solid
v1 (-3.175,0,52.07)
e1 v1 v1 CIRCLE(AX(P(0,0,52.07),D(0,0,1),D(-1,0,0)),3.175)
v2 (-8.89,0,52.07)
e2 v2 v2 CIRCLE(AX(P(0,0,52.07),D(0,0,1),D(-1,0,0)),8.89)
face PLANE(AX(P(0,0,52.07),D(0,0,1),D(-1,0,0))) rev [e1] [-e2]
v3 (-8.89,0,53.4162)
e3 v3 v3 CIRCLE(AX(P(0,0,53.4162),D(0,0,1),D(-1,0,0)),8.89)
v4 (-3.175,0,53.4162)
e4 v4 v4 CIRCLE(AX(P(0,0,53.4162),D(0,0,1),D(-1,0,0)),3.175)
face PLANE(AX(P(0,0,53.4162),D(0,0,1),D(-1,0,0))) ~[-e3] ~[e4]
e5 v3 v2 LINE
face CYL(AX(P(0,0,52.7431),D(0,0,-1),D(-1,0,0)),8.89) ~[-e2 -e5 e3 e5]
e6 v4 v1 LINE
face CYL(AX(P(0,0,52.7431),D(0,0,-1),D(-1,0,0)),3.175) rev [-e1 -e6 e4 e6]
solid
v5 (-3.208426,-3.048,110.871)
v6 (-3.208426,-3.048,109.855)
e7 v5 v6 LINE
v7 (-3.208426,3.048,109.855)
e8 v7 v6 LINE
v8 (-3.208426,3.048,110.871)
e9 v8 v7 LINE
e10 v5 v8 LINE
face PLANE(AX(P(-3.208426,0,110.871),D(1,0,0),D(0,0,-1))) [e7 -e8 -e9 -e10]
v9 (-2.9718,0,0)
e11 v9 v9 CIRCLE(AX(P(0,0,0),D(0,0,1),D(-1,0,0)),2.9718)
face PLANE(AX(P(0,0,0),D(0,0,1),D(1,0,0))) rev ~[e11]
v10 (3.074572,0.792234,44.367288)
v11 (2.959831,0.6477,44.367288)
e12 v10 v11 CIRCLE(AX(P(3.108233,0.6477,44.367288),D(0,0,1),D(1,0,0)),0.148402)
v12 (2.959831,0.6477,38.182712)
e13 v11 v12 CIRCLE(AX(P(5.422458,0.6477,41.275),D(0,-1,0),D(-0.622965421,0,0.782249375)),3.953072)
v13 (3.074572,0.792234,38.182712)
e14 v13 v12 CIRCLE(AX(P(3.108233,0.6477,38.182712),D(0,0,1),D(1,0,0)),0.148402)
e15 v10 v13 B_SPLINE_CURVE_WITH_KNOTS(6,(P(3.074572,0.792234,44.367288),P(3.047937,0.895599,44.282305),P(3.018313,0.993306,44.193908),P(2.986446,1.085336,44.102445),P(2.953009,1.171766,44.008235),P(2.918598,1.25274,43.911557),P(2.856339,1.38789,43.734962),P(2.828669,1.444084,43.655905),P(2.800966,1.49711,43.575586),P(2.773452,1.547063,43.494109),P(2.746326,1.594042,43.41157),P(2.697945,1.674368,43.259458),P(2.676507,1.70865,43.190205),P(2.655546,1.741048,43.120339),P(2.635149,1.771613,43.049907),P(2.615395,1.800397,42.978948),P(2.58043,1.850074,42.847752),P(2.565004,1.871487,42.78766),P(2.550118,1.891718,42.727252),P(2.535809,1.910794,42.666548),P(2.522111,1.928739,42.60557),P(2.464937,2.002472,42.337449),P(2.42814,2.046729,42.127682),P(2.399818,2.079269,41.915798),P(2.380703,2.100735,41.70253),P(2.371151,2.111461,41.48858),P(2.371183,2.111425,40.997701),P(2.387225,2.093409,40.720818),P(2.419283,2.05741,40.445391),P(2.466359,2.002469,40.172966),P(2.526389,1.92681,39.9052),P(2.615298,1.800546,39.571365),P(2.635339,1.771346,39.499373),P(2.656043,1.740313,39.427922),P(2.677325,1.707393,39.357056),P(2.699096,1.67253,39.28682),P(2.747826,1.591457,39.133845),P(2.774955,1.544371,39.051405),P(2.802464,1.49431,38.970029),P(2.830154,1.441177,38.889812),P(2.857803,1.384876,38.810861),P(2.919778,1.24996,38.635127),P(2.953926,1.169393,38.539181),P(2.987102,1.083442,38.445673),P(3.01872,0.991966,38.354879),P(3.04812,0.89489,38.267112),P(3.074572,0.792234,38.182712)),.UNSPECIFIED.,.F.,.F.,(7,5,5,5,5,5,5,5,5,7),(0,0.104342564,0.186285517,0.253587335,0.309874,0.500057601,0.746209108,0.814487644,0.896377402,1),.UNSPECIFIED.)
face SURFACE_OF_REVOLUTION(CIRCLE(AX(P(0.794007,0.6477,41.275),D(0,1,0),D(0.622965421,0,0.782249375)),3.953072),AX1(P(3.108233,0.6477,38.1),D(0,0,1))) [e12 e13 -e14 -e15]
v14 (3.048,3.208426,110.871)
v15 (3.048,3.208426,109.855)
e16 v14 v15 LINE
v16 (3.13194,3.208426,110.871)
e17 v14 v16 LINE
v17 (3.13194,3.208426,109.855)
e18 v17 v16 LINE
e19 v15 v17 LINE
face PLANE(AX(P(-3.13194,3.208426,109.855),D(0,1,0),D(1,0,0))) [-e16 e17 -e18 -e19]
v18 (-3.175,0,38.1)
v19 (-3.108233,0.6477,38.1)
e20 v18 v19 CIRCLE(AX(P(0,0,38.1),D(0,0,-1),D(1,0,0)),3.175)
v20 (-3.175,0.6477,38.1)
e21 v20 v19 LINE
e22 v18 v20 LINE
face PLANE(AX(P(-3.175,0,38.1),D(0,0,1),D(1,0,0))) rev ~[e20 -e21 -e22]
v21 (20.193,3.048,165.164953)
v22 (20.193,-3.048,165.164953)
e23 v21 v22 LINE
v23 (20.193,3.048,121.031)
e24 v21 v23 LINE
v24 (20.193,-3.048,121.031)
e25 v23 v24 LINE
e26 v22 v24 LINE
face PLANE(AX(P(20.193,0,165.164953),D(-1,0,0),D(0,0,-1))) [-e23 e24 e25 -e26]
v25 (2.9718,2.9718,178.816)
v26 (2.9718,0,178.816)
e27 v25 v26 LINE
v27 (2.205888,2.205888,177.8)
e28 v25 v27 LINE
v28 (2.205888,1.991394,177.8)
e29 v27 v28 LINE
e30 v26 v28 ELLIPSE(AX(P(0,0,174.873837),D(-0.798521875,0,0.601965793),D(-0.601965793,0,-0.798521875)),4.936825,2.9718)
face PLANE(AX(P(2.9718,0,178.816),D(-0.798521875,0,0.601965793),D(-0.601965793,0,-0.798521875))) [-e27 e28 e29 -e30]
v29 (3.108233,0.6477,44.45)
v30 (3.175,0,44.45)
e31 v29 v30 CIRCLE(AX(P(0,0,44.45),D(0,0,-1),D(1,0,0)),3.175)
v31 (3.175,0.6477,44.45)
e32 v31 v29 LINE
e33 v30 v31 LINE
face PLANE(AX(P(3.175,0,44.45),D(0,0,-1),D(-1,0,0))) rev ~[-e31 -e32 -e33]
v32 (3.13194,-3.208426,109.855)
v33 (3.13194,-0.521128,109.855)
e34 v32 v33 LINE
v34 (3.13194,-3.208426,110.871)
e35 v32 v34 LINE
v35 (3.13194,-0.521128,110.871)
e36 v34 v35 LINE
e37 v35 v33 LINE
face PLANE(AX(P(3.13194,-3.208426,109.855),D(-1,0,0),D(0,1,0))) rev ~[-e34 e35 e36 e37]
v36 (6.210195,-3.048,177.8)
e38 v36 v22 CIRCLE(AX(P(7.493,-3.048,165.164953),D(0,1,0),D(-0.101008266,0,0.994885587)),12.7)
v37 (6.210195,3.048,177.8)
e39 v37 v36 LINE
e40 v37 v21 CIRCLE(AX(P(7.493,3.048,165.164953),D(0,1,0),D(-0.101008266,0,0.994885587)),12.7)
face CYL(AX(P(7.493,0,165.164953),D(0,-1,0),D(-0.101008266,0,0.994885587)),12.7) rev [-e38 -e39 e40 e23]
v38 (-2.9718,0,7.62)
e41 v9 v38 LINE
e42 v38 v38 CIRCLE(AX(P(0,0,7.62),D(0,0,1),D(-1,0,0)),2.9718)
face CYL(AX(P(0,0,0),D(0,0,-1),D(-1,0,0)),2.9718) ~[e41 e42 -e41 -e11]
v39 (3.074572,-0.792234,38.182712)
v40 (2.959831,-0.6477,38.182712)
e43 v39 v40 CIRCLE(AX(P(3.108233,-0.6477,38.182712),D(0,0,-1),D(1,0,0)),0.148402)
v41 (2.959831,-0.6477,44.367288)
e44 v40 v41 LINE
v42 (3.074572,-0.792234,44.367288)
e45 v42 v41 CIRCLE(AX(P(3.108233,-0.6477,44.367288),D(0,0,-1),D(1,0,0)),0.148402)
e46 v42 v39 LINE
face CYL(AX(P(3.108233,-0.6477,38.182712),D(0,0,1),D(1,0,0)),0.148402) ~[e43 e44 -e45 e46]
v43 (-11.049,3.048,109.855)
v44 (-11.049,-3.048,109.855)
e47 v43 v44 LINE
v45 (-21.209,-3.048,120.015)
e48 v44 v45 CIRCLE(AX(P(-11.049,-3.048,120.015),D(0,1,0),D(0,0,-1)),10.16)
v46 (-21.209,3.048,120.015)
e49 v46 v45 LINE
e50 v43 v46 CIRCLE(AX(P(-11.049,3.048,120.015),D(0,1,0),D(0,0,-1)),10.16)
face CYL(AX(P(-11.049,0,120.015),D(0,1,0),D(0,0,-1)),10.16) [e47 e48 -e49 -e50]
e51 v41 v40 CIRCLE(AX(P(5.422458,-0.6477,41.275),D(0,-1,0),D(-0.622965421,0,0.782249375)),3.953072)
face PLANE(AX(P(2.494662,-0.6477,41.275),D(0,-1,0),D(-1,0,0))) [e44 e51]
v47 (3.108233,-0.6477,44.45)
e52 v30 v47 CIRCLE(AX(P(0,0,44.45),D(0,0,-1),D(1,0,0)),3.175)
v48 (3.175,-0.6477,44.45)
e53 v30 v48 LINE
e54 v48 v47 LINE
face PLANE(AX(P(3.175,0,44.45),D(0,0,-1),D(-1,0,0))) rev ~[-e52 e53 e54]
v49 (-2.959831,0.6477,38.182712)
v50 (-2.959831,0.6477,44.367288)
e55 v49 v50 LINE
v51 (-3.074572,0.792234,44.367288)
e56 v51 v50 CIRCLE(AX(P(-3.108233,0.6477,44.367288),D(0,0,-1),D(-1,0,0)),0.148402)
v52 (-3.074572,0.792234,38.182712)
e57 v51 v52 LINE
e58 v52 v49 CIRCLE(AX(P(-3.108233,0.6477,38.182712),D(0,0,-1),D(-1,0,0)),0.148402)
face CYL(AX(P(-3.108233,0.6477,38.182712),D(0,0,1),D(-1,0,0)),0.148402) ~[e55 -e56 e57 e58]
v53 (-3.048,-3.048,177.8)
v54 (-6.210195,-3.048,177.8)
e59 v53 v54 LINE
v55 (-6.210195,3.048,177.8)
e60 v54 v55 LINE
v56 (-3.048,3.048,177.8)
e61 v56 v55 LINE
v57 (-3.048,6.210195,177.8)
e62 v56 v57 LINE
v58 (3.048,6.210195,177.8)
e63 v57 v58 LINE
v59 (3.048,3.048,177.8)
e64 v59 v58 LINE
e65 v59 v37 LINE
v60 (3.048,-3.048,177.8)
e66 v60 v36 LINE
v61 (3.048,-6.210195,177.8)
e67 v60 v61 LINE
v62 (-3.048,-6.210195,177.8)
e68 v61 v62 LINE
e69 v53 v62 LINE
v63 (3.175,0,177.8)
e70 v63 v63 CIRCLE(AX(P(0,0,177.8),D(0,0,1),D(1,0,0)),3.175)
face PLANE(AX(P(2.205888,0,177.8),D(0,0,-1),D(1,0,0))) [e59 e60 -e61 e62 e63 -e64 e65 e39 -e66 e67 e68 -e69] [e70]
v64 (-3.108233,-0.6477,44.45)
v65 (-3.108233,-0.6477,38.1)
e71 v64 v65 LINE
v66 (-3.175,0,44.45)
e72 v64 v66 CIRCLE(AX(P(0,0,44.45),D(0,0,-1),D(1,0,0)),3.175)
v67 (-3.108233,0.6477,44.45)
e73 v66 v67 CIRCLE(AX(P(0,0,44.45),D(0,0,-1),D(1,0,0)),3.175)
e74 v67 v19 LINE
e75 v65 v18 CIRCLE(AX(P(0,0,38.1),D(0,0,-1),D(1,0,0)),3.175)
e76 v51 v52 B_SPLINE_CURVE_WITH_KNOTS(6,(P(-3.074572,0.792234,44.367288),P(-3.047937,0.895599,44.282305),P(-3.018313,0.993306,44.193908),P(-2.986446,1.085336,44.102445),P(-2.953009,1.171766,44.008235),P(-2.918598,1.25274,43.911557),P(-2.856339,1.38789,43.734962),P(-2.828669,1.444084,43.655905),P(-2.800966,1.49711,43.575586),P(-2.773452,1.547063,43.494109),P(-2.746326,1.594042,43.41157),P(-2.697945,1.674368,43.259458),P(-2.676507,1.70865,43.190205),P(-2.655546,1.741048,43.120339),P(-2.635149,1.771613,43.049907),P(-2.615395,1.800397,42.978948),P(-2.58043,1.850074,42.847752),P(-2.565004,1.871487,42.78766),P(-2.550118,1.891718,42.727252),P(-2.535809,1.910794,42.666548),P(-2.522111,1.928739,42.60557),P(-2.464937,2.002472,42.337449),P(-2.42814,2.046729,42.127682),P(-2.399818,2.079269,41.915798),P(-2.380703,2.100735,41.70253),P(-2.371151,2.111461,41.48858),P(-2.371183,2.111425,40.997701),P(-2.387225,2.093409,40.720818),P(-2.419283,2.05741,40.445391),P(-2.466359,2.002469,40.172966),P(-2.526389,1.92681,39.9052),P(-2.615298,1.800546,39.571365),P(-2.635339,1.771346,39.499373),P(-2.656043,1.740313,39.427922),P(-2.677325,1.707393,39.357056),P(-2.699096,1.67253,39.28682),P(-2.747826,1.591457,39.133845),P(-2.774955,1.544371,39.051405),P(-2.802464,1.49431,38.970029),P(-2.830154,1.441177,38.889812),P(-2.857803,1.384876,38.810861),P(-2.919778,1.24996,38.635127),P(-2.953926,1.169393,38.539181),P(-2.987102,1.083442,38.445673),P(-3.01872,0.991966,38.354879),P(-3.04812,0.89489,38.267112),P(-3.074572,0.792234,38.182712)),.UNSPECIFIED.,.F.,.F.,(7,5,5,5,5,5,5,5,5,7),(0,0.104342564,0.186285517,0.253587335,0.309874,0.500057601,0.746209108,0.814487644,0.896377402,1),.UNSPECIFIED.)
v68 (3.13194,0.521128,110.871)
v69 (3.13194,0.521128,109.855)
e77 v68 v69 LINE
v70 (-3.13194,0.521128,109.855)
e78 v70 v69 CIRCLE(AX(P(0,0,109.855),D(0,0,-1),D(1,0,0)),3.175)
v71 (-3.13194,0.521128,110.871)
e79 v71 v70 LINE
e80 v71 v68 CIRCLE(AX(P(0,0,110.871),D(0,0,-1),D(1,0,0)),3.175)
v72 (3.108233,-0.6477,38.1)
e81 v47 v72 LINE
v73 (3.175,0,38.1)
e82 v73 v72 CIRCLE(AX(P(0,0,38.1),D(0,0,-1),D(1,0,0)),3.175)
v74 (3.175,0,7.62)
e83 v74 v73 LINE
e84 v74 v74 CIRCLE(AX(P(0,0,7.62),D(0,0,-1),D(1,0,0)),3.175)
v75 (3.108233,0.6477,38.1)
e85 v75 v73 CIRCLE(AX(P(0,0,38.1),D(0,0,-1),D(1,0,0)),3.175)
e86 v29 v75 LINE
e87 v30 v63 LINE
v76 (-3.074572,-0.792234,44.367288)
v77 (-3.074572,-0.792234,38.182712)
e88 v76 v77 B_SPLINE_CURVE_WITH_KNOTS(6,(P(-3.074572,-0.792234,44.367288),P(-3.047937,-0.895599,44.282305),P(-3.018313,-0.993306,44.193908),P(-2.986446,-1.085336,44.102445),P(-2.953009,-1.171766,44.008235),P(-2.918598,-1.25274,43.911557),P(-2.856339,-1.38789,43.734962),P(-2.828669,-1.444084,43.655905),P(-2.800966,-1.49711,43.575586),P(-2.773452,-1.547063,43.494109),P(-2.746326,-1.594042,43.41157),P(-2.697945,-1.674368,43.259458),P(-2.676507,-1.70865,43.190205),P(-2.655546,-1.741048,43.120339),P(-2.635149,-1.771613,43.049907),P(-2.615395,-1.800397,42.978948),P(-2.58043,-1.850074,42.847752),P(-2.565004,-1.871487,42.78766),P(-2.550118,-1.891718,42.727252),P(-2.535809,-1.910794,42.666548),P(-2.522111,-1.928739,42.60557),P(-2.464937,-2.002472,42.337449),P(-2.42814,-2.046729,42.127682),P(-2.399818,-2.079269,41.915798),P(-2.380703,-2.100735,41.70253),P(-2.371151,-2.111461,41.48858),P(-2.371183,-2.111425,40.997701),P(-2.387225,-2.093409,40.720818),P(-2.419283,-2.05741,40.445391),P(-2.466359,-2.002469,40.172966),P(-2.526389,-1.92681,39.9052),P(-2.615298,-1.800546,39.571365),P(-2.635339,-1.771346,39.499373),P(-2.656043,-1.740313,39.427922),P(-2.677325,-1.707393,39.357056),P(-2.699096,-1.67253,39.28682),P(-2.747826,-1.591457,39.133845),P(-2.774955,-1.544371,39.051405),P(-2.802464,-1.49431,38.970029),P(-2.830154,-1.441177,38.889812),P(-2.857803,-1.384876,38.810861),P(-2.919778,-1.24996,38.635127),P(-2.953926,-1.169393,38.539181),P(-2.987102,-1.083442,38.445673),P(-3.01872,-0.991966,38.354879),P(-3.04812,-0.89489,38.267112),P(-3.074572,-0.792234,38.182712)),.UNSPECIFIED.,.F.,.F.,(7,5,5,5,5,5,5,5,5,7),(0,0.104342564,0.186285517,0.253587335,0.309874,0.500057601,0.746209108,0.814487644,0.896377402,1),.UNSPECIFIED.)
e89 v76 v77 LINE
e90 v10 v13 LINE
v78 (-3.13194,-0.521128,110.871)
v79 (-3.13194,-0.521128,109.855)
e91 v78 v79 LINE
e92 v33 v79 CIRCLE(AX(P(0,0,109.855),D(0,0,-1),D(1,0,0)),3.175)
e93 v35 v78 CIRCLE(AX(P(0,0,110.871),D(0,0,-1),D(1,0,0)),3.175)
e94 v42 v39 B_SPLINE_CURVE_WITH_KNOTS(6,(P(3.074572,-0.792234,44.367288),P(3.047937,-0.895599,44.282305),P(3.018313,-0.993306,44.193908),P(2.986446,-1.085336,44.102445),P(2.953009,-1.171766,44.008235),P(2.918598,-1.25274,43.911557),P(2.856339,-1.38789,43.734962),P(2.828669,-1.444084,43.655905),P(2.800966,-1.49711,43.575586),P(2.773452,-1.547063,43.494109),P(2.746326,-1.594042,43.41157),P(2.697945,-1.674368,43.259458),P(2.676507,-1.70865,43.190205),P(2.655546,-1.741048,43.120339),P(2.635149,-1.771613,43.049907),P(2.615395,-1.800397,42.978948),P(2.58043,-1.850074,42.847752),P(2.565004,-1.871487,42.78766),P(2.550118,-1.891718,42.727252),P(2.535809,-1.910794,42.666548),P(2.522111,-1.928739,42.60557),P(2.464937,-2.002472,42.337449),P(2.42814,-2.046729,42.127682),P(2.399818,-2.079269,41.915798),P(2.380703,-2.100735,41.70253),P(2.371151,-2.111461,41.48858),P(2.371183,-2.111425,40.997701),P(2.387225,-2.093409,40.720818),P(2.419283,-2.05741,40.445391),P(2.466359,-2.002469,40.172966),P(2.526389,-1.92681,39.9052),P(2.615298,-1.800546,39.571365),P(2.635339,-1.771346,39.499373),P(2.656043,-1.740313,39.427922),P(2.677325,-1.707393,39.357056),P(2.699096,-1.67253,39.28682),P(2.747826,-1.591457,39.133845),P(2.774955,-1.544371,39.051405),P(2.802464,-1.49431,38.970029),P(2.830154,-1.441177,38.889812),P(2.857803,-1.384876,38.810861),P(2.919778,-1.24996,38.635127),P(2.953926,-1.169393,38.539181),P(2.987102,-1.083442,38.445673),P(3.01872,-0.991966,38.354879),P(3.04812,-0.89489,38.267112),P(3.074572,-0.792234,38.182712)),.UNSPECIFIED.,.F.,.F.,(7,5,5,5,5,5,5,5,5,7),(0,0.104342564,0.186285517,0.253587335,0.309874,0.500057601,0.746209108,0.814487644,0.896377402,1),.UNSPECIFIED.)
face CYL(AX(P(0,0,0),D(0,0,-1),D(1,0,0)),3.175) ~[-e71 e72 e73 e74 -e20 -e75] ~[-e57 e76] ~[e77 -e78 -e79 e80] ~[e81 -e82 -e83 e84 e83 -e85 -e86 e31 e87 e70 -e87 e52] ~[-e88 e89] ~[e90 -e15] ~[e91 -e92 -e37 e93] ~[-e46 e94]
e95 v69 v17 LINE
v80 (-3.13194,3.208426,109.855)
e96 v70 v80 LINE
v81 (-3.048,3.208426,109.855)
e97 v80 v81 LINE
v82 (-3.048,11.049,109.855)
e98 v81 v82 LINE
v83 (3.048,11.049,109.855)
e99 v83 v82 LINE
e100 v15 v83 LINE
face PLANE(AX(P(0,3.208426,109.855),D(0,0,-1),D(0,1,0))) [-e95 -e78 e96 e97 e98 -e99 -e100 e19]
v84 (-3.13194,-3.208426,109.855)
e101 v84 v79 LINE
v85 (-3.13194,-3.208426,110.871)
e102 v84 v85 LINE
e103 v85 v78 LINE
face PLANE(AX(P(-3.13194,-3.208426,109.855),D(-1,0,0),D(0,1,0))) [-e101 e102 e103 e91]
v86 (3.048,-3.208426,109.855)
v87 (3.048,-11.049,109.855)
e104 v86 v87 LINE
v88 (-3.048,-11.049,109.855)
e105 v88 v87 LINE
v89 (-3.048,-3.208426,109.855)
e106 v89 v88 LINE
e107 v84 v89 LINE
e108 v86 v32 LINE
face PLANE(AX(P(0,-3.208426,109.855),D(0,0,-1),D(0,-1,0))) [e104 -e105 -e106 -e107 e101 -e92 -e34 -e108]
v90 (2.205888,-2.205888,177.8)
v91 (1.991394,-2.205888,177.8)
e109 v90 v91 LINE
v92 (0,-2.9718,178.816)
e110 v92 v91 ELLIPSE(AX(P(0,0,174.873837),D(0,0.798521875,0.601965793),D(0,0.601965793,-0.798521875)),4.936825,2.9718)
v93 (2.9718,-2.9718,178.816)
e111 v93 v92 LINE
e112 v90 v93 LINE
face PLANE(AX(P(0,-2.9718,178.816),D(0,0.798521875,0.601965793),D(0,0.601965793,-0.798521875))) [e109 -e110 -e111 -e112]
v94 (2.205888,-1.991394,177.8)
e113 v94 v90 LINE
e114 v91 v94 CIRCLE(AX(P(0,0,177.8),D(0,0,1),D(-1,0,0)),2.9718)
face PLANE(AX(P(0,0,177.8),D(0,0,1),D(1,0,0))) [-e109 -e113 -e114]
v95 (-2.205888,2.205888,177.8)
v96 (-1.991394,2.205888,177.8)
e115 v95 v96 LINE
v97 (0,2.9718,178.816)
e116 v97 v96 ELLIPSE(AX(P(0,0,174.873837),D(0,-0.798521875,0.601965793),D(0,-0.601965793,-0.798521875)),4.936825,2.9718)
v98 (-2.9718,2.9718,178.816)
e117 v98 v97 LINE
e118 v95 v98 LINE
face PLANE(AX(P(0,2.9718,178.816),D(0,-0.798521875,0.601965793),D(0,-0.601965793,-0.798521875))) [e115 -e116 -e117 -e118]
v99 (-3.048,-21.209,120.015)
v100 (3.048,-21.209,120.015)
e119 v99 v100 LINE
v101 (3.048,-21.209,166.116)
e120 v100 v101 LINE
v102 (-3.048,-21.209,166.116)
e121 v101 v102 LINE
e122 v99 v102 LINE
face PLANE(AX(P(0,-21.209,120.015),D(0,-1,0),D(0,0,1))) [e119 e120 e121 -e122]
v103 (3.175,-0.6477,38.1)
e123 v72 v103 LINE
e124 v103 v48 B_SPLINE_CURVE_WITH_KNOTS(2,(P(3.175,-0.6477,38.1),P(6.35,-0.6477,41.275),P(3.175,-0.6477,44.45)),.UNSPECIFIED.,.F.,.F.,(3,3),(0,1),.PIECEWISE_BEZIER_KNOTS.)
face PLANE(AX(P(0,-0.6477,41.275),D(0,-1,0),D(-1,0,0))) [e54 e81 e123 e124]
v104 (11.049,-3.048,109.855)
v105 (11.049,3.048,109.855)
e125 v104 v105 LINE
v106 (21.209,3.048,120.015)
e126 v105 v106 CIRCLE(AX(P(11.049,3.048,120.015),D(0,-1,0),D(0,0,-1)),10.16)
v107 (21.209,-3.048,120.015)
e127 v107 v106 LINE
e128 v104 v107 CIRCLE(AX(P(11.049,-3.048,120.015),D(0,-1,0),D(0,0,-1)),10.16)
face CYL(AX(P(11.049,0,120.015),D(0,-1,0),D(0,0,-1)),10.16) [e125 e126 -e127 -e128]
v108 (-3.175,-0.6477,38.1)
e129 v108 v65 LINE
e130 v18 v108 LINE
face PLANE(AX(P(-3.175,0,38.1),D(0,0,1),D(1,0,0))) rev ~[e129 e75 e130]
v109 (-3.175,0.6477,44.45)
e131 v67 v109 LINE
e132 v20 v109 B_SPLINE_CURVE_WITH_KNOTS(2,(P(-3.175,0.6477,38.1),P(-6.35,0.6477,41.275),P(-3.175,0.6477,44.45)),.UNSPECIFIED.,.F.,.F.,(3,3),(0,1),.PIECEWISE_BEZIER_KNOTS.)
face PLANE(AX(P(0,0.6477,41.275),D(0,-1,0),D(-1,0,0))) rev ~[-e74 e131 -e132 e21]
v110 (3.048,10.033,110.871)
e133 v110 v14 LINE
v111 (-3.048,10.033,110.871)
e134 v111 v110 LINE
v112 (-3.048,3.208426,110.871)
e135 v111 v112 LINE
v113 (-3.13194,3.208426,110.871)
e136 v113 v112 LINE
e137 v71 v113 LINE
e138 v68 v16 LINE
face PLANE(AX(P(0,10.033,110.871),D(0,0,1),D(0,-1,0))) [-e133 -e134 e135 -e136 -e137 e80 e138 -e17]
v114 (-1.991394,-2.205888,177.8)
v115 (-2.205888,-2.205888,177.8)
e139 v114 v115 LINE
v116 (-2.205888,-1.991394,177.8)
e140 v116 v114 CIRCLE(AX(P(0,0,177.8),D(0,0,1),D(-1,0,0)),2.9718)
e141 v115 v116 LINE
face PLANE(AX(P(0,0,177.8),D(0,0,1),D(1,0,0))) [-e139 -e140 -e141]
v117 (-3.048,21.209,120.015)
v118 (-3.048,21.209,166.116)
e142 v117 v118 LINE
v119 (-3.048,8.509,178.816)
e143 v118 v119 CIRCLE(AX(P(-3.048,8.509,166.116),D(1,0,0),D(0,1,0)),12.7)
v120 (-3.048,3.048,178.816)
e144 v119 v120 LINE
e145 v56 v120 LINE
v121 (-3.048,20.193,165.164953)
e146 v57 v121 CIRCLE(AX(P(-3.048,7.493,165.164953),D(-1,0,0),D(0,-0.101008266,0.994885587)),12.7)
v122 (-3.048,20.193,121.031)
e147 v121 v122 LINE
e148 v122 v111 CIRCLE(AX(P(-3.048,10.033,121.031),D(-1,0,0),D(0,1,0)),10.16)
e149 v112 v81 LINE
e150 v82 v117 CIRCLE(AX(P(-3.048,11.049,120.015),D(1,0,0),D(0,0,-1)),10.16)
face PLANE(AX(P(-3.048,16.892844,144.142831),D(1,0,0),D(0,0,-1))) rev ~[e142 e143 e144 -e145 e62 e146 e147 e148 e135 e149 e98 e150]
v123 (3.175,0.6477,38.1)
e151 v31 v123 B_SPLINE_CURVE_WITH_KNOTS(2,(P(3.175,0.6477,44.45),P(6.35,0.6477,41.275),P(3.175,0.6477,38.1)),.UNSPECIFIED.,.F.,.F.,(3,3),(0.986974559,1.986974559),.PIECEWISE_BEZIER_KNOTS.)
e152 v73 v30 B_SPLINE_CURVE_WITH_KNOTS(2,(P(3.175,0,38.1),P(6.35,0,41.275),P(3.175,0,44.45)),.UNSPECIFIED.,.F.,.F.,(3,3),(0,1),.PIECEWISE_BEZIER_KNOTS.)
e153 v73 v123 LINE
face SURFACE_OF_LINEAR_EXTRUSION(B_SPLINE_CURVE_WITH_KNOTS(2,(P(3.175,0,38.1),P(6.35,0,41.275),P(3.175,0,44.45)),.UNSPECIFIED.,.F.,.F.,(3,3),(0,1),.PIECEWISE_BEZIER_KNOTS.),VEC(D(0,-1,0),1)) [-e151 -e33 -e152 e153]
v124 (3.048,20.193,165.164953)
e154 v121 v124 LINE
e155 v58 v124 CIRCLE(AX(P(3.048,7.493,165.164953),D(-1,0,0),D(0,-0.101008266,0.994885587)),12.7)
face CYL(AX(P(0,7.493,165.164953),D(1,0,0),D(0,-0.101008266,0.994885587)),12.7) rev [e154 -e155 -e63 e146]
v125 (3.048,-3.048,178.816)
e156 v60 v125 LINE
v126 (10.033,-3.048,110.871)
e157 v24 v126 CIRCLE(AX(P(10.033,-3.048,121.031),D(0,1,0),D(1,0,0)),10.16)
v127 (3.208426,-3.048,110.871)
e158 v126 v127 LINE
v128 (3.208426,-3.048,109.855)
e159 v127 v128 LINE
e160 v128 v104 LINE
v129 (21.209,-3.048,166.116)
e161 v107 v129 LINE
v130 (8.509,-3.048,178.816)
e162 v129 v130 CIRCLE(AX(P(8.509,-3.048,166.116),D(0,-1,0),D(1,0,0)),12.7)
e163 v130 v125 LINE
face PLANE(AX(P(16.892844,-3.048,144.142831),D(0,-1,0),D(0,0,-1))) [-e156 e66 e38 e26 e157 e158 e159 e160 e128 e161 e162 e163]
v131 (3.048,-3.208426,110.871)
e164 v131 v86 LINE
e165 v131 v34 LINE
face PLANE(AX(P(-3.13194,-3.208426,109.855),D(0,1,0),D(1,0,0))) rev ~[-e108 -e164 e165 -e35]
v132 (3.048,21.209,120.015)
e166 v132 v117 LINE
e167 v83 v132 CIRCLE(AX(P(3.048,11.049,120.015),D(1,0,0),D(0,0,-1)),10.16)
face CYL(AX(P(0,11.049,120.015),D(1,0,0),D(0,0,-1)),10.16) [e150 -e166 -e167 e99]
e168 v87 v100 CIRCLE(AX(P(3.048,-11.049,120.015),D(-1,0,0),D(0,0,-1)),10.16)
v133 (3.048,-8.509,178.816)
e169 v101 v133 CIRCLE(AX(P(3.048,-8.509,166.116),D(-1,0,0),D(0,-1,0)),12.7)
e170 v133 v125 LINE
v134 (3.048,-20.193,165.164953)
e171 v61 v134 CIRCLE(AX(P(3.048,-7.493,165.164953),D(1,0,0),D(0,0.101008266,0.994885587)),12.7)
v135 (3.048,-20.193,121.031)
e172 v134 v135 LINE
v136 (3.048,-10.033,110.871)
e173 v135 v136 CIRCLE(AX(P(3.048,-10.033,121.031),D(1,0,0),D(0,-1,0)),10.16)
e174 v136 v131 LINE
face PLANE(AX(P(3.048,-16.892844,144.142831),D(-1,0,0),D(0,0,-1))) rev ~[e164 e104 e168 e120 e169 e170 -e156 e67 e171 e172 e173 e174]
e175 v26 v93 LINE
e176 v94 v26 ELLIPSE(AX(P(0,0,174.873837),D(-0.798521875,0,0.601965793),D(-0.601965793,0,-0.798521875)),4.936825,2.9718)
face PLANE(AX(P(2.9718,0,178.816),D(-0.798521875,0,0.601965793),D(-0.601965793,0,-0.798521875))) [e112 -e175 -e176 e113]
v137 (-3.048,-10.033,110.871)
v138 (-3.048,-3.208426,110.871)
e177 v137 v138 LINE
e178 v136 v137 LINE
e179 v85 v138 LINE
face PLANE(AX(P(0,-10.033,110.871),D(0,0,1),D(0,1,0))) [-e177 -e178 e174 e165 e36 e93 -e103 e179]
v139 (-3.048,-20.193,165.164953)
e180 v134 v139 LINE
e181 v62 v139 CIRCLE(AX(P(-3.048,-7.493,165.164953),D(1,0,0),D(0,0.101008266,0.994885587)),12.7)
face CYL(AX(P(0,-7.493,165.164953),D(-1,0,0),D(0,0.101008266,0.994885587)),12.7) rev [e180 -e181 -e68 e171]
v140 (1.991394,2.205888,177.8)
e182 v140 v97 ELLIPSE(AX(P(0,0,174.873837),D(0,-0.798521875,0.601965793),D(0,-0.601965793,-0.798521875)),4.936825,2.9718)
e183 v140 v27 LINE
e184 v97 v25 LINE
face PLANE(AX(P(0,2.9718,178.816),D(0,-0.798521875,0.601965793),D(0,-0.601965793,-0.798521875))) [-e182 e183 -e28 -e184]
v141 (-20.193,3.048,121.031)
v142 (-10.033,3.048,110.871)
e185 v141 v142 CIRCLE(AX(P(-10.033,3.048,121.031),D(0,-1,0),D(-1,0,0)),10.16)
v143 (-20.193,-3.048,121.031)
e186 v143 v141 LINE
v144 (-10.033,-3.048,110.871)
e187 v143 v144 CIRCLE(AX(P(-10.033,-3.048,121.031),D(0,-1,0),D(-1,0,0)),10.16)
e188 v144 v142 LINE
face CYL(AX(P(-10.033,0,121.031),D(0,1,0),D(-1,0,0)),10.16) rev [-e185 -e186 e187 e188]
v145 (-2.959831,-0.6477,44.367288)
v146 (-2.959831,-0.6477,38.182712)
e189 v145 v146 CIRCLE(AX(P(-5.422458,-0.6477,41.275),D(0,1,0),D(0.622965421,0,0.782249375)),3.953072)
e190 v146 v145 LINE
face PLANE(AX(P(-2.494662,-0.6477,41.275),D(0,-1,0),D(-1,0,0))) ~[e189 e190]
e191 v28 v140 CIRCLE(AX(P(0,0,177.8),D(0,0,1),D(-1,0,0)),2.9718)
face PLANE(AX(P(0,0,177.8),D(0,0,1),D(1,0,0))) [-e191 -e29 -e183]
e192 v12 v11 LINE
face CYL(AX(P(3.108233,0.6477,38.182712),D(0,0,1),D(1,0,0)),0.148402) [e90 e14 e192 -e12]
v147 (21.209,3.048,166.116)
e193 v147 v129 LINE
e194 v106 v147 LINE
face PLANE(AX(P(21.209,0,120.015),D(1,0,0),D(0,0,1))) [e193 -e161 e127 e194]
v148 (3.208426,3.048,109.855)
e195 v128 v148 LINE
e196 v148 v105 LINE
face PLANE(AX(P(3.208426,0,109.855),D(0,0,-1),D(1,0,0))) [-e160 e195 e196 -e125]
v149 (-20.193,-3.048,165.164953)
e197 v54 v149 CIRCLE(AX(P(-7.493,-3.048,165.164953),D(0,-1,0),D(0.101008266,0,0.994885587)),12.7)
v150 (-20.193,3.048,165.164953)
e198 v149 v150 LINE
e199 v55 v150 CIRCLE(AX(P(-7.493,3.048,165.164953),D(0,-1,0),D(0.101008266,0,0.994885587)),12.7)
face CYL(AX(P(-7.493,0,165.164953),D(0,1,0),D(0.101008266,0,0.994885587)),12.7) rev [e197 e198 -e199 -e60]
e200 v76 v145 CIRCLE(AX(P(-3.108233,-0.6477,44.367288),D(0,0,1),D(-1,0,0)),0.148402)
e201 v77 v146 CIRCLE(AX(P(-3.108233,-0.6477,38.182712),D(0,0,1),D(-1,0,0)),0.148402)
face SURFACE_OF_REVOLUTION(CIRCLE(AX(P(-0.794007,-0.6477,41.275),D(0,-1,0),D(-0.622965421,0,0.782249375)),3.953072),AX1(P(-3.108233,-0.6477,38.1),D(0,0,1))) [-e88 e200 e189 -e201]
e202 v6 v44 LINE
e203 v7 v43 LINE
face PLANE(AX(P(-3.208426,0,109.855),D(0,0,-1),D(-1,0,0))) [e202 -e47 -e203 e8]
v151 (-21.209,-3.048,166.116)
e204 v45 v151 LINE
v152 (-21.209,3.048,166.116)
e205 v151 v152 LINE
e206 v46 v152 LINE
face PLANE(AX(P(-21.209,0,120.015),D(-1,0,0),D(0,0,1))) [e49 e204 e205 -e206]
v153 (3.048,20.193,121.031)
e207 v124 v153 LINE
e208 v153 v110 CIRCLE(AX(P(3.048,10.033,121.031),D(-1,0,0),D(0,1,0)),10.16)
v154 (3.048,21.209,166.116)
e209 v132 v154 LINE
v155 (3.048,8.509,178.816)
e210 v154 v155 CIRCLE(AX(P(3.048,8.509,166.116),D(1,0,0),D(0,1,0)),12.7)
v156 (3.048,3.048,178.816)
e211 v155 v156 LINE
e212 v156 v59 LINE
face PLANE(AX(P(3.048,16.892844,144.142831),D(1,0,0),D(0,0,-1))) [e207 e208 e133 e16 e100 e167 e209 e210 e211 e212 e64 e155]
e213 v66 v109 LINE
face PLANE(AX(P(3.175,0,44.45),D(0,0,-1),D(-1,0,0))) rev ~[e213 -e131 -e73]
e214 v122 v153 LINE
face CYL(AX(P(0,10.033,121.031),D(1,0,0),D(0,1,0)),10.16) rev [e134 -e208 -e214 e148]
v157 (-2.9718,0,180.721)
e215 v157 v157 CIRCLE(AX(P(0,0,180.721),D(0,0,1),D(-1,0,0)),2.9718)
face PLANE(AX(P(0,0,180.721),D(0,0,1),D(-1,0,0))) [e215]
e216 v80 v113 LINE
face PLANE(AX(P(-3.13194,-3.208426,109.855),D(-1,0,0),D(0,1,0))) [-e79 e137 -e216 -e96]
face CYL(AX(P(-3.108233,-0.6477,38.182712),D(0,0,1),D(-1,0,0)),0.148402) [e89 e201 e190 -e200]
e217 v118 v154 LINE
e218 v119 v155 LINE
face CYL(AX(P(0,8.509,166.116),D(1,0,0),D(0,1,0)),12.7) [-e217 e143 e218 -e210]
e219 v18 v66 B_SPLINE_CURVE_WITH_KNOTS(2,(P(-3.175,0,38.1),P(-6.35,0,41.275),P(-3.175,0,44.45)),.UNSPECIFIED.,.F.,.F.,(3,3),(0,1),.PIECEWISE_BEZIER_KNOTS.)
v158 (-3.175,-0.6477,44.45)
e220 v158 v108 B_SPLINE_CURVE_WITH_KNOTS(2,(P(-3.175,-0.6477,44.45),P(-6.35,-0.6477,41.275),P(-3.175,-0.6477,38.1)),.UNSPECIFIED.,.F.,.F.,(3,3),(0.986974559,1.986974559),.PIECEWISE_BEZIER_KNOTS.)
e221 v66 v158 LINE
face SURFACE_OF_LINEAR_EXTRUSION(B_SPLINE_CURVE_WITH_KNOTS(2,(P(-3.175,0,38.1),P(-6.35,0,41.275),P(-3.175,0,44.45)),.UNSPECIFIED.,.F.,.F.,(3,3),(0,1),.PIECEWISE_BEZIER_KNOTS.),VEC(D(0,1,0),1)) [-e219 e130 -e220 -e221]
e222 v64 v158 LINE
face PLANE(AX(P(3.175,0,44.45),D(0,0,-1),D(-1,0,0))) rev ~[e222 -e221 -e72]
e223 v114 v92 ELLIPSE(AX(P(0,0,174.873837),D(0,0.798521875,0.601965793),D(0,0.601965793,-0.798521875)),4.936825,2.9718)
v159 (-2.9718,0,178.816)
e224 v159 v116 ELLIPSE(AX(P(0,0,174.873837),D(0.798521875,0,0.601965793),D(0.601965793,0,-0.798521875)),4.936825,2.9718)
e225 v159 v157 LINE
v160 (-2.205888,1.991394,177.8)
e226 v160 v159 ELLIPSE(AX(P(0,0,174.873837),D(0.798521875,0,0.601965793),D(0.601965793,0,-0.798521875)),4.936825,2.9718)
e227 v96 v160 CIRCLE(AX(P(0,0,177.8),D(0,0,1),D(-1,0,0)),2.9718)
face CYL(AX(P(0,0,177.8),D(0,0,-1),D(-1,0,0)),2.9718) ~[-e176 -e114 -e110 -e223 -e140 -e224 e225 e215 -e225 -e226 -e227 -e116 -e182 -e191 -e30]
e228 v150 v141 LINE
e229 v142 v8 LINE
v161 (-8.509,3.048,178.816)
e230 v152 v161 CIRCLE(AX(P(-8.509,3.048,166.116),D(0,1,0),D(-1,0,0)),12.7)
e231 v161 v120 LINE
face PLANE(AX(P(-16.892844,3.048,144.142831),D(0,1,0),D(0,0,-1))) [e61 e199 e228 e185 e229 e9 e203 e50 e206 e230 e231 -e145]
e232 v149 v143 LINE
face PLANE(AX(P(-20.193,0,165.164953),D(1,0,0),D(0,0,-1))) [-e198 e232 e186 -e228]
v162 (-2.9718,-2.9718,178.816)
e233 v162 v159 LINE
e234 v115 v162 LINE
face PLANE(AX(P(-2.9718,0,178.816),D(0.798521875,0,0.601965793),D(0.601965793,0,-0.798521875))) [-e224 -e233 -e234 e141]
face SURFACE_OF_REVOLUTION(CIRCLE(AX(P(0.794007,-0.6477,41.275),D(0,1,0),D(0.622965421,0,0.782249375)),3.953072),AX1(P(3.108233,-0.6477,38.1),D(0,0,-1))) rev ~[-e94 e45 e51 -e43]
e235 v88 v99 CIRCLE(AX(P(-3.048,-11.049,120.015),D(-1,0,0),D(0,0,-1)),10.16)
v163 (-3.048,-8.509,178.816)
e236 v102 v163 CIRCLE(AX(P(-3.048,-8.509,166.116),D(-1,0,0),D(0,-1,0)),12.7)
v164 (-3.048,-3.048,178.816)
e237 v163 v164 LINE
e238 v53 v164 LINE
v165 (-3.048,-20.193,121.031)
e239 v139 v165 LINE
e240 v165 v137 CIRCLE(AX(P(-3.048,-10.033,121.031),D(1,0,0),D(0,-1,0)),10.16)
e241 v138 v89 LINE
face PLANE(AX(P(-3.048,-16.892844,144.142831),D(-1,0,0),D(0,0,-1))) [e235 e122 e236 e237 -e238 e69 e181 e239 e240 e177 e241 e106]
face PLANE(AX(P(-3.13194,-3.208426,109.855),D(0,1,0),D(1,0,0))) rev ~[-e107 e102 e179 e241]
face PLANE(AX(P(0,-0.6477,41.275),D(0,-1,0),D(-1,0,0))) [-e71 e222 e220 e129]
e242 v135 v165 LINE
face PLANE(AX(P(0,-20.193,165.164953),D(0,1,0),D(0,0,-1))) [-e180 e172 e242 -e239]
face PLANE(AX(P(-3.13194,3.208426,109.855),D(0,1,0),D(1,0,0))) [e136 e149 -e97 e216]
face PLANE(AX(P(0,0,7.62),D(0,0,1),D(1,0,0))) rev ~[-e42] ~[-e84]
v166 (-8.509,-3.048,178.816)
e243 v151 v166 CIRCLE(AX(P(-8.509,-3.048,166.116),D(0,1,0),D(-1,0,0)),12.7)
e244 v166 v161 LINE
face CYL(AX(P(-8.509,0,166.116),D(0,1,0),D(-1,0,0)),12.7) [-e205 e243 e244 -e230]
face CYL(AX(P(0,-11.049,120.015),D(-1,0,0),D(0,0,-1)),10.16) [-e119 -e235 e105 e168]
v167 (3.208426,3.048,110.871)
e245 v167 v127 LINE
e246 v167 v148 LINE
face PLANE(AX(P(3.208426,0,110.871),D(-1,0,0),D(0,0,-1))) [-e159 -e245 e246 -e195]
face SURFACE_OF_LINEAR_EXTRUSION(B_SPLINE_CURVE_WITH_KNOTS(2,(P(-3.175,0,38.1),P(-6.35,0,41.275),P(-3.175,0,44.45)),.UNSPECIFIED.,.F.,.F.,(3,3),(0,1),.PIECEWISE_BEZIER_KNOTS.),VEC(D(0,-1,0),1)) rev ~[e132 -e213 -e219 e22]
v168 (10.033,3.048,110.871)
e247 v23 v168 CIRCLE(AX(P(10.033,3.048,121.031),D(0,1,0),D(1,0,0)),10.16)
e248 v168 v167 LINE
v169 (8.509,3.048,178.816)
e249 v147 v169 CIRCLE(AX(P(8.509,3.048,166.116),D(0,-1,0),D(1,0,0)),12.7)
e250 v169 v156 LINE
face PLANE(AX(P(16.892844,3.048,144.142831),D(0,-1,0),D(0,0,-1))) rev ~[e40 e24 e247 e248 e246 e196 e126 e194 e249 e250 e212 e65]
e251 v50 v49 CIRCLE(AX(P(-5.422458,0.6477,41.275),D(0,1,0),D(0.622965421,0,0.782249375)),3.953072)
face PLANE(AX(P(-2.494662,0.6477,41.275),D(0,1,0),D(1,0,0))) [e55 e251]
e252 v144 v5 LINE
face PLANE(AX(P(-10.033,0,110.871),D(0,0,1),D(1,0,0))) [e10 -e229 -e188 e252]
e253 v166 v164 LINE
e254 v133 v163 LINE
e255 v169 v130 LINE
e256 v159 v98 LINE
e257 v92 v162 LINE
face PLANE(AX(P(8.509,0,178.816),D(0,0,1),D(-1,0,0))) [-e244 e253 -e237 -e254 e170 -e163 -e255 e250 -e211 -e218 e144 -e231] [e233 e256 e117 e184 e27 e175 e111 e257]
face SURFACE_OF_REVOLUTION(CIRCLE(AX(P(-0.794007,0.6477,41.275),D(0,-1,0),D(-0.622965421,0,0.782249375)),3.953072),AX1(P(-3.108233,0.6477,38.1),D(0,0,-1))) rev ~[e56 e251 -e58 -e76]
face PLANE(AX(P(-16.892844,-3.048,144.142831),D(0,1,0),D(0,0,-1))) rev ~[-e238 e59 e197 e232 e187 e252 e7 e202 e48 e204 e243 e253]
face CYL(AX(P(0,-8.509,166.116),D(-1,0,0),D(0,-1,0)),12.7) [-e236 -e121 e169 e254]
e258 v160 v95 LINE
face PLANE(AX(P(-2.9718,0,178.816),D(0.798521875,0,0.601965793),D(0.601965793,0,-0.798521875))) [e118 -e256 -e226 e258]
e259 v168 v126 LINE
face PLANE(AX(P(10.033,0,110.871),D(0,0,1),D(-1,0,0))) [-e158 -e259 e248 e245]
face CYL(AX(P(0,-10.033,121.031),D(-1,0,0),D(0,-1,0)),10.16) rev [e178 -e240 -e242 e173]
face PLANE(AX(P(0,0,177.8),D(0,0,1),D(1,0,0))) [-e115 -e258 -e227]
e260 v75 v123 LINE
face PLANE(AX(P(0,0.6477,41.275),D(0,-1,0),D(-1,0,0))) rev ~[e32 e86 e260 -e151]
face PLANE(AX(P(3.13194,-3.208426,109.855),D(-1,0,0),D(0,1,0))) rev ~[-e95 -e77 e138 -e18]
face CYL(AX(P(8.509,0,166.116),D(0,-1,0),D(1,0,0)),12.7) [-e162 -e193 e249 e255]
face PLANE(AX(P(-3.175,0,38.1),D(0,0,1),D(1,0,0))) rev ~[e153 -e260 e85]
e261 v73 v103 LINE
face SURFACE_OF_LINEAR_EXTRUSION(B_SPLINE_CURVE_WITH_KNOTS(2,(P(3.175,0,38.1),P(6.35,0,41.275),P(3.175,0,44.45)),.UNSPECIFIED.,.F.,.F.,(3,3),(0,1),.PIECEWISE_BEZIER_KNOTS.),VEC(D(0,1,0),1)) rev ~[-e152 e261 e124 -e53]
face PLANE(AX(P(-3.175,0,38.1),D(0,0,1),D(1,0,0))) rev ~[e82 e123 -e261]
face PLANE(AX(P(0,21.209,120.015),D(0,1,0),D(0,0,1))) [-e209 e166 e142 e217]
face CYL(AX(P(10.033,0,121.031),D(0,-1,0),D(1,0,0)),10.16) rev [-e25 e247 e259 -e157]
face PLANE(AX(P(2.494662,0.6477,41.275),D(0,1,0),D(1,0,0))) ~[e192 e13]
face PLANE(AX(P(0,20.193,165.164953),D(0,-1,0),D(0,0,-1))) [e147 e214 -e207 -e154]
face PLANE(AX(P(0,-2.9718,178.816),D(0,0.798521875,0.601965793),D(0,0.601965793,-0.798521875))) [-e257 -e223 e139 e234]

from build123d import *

# Parameters (mm, degrees)
SKETCH1_R            = 3.175
BOSS_EXTRUDE1_DEPTH  = 177.8
SKETCH2_R            = 2.9718
BOSS_EXTRUDE2_DEPTH  = 7.874
BOSS_EXTRUDE3_DEPTH  = 0.6477
SKETCH2_7_OUTSIDE_W  = 47.16
SKETCH2_7_OUTSIDE_H  = 43.984
SKETCH2_7_OUTSIDE_R  = 2.9718
CUT_EXTRUDE2_DEPTH   = 7.62
SKETCH9_W            = 1.3462
SKETCH9_H            = 5.715
SKETCH31_R           = 2.9718
BOSS_EXTRUDE6_DEPTH  = 2.921
SKETCH32_W           = 6.263880776
SKETCH32_H           = 6.416852852
BOSS_EXTRUDE9_DEPTH  = 1.016
BOSS_EXTRUDE10_DEPTH = 3.048
CIRPATTERN1_COUNT    = 4
CUT_REVOLVE3_ANGLE   = 180
MIRROR3_COPY_1_ANGLE = 180


with BuildPart() as part:
    # Sketch1 → Boss-Extrude1 (new body)
    with BuildSketch(Plane.XY):
        Circle(SKETCH1_R)
    extrude(amount=BOSS_EXTRUDE1_DEPTH)

    # Sketch2 → Boss-Extrude2 (add)
    with BuildSketch(Plane.XY):
        Circle(SKETCH2_R)
    extrude(amount=BOSS_EXTRUDE2_DEPTH)

    # Sketch3 → Boss-Extrude3 (add, symmetric)
    with BuildSketch(Plane(origin=(0, 0, 0), x_dir=(1, 0, 0), z_dir=(0, 1, 0))):
        with BuildLine():
            Line((-3.175, -38.1), (3.175, -38.1))
            add(Edge.make_bspline(
                [(3.175, -38.1), (6.35, -41.275), (3.175, -44.45)],
                knots=[0, 0, 0, 1, 1, 1], degree=2))
            Line((3.175, -44.45), (-3.175, -44.45))
            add(Edge.make_bspline(
                [(-3.175, -38.1), (-6.35, -41.275), (-3.175, -44.45)],
                knots=[0, 0, 0, 1, 1, 1], degree=2))
        make_face()
    extrude(amount=BOSS_EXTRUDE3_DEPTH, both=True)

    # Sketch2<7> outside → Cut-Extrude2 (cut)
    with BuildSketch(Plane.XY):
        Rectangle(SKETCH2_7_OUTSIDE_W, SKETCH2_7_OUTSIDE_H)
        with Locations(Location((0, 0, 0), (0, 0, 180))):
            Circle(SKETCH2_7_OUTSIDE_R, mode=Mode.SUBTRACT)
    extrude(amount=CUT_EXTRUDE2_DEPTH, mode=Mode.SUBTRACT)

    # Sketch31 → Boss-Extrude6 (add)
    with BuildSketch(Plane.XY.offset(177.8)):
        with Locations(Location((0, 0, 0), (0, 0, 180))):
            Circle(SKETCH31_R)
    extrude(amount=BOSS_EXTRUDE6_DEPTH)

    # Sketch32 → Boss-Extrude9 (add)
    with BuildSketch(Plane.XY.offset(109.855)):
        Rectangle(SKETCH32_W, SKETCH32_H)
    extrude(amount=BOSS_EXTRUDE9_DEPTH)

    # Sketch30 → Boss-Extrude10 (add, symmetric)
    with BuildSketch(Plane(origin=(0, 0, 0), x_dir=(0, 0, -1), z_dir=(1, 0, 0))):
        with BuildLine():
            Line((-120.015, 21.209), (-166.116, 21.209))
            ThreePointArc((-166.116, 21.209), (-175.096256121, 17.489256121), (-178.816, 8.509))
            Line((-178.816, 8.509), (-178.816, 2.9718))
            Line((-178.816, 2.9718), (-177.8, 2.205888301))
            Line((-177.8, 2.205888301), (-177.8, 6.210195024))
            ThreePointArc((-177.8, 6.210195024), (-174.587840698, 16.007645524), (-165.164953051, 20.193))
            Line((-165.164953051, 20.193), (-121.031, 20.193))
            ThreePointArc((-121.031, 20.193), (-113.846795103, 17.217204897), (-110.871, 10.033))
            Line((-110.871, 10.033), (-110.871, 3.208426426))
            Line((-110.871, 3.208426426), (-109.855, 3.208426426))
            Line((-109.855, 3.208426426), (-109.855, 11.049))
            ThreePointArc((-109.855, 11.049), (-112.830795103, 18.233204897), (-120.015, 21.209))
        make_face()
    boss_extrude10 = extrude(amount=BOSS_EXTRUDE10_DEPTH, both=True)

    # CirPattern1: Boss-Extrude10 ×4 about axis
    cirpattern1_axis = Axis((0, 0, 0), (0, 0, 1))
    for i in range(1, CIRPATTERN1_COUNT):
        add(boss_extrude10.rotate(cirpattern1_axis, i * 360 / CIRPATTERN1_COUNT))

    # Sketch36 → Cut-Revolve3 (revolve, cut)
    with BuildSketch(Plane(origin=(0, -0.6477, 0), x_dir=(-1, 0, 0), z_dir=(0, -1, 0))):
        with BuildLine():
            Line((-3.256634196, -38.182711551), (-3.256634196, -44.367288449))
            ThreePointArc((-3.256634196, -44.367288449), (-4.747079201, -41.275), (-3.256634196, -38.182711551))
        make_face()
    cut_revolve3 = revolve(axis=Axis((3.10823257, -0.6477, 38.1), (0, 0, -1)), revolution_arc=CUT_REVOLVE3_ANGLE, mode=Mode.SUBTRACT)

    # Mirror1: Cut-Revolve3 across plane
    add(cut_revolve3.mirror(Plane.ZX), mode=Mode.SUBTRACT)

    # Mirror3: Cut-Revolve3 across plane
    add(cut_revolve3.mirror(Plane(origin=(0, 0, 0), x_dir=(0, 0, 1), z_dir=(1, 0, 0))), mode=Mode.SUBTRACT)

    # Mirror3 copy 1 sketch → Mirror3 copy 1 (revolve, cut)
    with BuildSketch(Plane(origin=(0, 0.6477, 0), x_dir=(1, 0, 0), z_dir=(0, 1, 0))):
        with BuildLine():
            Line((-3.256634196, -38.182711551), (-3.256634196, -44.367288449))
            ThreePointArc((-3.256634196, -44.367288449), (-4.747079201, -41.275), (-3.256634196, -38.182711551))
        make_face()
    revolve(axis=Axis((-3.10823257, 0.6477, 38.1), (0, 0, -1)), revolution_arc=MIRROR3_COPY_1_ANGLE, mode=Mode.SUBTRACT)


with BuildPart() as body_2:
    # Sketch9 → Revolve2 (revolve)
    with BuildSketch(Plane(origin=(0, 0, 0), x_dir=(0, 0, -1), z_dir=(1, 0, 0)), mode=Mode.PRIVATE) as revolve2_sk:
        with Locations((-52.7431, 6.0325)):
            Rectangle(SKETCH9_W, SKETCH9_H)
    revolve(revolve2_sk.sketch.rotate(Axis((0, 0, -88.99), (0, 0, 1)), 90), axis=Axis((0, 0, -88.99), (0, 0, 1)))


solid = Compound([part.part, body_2.part])
